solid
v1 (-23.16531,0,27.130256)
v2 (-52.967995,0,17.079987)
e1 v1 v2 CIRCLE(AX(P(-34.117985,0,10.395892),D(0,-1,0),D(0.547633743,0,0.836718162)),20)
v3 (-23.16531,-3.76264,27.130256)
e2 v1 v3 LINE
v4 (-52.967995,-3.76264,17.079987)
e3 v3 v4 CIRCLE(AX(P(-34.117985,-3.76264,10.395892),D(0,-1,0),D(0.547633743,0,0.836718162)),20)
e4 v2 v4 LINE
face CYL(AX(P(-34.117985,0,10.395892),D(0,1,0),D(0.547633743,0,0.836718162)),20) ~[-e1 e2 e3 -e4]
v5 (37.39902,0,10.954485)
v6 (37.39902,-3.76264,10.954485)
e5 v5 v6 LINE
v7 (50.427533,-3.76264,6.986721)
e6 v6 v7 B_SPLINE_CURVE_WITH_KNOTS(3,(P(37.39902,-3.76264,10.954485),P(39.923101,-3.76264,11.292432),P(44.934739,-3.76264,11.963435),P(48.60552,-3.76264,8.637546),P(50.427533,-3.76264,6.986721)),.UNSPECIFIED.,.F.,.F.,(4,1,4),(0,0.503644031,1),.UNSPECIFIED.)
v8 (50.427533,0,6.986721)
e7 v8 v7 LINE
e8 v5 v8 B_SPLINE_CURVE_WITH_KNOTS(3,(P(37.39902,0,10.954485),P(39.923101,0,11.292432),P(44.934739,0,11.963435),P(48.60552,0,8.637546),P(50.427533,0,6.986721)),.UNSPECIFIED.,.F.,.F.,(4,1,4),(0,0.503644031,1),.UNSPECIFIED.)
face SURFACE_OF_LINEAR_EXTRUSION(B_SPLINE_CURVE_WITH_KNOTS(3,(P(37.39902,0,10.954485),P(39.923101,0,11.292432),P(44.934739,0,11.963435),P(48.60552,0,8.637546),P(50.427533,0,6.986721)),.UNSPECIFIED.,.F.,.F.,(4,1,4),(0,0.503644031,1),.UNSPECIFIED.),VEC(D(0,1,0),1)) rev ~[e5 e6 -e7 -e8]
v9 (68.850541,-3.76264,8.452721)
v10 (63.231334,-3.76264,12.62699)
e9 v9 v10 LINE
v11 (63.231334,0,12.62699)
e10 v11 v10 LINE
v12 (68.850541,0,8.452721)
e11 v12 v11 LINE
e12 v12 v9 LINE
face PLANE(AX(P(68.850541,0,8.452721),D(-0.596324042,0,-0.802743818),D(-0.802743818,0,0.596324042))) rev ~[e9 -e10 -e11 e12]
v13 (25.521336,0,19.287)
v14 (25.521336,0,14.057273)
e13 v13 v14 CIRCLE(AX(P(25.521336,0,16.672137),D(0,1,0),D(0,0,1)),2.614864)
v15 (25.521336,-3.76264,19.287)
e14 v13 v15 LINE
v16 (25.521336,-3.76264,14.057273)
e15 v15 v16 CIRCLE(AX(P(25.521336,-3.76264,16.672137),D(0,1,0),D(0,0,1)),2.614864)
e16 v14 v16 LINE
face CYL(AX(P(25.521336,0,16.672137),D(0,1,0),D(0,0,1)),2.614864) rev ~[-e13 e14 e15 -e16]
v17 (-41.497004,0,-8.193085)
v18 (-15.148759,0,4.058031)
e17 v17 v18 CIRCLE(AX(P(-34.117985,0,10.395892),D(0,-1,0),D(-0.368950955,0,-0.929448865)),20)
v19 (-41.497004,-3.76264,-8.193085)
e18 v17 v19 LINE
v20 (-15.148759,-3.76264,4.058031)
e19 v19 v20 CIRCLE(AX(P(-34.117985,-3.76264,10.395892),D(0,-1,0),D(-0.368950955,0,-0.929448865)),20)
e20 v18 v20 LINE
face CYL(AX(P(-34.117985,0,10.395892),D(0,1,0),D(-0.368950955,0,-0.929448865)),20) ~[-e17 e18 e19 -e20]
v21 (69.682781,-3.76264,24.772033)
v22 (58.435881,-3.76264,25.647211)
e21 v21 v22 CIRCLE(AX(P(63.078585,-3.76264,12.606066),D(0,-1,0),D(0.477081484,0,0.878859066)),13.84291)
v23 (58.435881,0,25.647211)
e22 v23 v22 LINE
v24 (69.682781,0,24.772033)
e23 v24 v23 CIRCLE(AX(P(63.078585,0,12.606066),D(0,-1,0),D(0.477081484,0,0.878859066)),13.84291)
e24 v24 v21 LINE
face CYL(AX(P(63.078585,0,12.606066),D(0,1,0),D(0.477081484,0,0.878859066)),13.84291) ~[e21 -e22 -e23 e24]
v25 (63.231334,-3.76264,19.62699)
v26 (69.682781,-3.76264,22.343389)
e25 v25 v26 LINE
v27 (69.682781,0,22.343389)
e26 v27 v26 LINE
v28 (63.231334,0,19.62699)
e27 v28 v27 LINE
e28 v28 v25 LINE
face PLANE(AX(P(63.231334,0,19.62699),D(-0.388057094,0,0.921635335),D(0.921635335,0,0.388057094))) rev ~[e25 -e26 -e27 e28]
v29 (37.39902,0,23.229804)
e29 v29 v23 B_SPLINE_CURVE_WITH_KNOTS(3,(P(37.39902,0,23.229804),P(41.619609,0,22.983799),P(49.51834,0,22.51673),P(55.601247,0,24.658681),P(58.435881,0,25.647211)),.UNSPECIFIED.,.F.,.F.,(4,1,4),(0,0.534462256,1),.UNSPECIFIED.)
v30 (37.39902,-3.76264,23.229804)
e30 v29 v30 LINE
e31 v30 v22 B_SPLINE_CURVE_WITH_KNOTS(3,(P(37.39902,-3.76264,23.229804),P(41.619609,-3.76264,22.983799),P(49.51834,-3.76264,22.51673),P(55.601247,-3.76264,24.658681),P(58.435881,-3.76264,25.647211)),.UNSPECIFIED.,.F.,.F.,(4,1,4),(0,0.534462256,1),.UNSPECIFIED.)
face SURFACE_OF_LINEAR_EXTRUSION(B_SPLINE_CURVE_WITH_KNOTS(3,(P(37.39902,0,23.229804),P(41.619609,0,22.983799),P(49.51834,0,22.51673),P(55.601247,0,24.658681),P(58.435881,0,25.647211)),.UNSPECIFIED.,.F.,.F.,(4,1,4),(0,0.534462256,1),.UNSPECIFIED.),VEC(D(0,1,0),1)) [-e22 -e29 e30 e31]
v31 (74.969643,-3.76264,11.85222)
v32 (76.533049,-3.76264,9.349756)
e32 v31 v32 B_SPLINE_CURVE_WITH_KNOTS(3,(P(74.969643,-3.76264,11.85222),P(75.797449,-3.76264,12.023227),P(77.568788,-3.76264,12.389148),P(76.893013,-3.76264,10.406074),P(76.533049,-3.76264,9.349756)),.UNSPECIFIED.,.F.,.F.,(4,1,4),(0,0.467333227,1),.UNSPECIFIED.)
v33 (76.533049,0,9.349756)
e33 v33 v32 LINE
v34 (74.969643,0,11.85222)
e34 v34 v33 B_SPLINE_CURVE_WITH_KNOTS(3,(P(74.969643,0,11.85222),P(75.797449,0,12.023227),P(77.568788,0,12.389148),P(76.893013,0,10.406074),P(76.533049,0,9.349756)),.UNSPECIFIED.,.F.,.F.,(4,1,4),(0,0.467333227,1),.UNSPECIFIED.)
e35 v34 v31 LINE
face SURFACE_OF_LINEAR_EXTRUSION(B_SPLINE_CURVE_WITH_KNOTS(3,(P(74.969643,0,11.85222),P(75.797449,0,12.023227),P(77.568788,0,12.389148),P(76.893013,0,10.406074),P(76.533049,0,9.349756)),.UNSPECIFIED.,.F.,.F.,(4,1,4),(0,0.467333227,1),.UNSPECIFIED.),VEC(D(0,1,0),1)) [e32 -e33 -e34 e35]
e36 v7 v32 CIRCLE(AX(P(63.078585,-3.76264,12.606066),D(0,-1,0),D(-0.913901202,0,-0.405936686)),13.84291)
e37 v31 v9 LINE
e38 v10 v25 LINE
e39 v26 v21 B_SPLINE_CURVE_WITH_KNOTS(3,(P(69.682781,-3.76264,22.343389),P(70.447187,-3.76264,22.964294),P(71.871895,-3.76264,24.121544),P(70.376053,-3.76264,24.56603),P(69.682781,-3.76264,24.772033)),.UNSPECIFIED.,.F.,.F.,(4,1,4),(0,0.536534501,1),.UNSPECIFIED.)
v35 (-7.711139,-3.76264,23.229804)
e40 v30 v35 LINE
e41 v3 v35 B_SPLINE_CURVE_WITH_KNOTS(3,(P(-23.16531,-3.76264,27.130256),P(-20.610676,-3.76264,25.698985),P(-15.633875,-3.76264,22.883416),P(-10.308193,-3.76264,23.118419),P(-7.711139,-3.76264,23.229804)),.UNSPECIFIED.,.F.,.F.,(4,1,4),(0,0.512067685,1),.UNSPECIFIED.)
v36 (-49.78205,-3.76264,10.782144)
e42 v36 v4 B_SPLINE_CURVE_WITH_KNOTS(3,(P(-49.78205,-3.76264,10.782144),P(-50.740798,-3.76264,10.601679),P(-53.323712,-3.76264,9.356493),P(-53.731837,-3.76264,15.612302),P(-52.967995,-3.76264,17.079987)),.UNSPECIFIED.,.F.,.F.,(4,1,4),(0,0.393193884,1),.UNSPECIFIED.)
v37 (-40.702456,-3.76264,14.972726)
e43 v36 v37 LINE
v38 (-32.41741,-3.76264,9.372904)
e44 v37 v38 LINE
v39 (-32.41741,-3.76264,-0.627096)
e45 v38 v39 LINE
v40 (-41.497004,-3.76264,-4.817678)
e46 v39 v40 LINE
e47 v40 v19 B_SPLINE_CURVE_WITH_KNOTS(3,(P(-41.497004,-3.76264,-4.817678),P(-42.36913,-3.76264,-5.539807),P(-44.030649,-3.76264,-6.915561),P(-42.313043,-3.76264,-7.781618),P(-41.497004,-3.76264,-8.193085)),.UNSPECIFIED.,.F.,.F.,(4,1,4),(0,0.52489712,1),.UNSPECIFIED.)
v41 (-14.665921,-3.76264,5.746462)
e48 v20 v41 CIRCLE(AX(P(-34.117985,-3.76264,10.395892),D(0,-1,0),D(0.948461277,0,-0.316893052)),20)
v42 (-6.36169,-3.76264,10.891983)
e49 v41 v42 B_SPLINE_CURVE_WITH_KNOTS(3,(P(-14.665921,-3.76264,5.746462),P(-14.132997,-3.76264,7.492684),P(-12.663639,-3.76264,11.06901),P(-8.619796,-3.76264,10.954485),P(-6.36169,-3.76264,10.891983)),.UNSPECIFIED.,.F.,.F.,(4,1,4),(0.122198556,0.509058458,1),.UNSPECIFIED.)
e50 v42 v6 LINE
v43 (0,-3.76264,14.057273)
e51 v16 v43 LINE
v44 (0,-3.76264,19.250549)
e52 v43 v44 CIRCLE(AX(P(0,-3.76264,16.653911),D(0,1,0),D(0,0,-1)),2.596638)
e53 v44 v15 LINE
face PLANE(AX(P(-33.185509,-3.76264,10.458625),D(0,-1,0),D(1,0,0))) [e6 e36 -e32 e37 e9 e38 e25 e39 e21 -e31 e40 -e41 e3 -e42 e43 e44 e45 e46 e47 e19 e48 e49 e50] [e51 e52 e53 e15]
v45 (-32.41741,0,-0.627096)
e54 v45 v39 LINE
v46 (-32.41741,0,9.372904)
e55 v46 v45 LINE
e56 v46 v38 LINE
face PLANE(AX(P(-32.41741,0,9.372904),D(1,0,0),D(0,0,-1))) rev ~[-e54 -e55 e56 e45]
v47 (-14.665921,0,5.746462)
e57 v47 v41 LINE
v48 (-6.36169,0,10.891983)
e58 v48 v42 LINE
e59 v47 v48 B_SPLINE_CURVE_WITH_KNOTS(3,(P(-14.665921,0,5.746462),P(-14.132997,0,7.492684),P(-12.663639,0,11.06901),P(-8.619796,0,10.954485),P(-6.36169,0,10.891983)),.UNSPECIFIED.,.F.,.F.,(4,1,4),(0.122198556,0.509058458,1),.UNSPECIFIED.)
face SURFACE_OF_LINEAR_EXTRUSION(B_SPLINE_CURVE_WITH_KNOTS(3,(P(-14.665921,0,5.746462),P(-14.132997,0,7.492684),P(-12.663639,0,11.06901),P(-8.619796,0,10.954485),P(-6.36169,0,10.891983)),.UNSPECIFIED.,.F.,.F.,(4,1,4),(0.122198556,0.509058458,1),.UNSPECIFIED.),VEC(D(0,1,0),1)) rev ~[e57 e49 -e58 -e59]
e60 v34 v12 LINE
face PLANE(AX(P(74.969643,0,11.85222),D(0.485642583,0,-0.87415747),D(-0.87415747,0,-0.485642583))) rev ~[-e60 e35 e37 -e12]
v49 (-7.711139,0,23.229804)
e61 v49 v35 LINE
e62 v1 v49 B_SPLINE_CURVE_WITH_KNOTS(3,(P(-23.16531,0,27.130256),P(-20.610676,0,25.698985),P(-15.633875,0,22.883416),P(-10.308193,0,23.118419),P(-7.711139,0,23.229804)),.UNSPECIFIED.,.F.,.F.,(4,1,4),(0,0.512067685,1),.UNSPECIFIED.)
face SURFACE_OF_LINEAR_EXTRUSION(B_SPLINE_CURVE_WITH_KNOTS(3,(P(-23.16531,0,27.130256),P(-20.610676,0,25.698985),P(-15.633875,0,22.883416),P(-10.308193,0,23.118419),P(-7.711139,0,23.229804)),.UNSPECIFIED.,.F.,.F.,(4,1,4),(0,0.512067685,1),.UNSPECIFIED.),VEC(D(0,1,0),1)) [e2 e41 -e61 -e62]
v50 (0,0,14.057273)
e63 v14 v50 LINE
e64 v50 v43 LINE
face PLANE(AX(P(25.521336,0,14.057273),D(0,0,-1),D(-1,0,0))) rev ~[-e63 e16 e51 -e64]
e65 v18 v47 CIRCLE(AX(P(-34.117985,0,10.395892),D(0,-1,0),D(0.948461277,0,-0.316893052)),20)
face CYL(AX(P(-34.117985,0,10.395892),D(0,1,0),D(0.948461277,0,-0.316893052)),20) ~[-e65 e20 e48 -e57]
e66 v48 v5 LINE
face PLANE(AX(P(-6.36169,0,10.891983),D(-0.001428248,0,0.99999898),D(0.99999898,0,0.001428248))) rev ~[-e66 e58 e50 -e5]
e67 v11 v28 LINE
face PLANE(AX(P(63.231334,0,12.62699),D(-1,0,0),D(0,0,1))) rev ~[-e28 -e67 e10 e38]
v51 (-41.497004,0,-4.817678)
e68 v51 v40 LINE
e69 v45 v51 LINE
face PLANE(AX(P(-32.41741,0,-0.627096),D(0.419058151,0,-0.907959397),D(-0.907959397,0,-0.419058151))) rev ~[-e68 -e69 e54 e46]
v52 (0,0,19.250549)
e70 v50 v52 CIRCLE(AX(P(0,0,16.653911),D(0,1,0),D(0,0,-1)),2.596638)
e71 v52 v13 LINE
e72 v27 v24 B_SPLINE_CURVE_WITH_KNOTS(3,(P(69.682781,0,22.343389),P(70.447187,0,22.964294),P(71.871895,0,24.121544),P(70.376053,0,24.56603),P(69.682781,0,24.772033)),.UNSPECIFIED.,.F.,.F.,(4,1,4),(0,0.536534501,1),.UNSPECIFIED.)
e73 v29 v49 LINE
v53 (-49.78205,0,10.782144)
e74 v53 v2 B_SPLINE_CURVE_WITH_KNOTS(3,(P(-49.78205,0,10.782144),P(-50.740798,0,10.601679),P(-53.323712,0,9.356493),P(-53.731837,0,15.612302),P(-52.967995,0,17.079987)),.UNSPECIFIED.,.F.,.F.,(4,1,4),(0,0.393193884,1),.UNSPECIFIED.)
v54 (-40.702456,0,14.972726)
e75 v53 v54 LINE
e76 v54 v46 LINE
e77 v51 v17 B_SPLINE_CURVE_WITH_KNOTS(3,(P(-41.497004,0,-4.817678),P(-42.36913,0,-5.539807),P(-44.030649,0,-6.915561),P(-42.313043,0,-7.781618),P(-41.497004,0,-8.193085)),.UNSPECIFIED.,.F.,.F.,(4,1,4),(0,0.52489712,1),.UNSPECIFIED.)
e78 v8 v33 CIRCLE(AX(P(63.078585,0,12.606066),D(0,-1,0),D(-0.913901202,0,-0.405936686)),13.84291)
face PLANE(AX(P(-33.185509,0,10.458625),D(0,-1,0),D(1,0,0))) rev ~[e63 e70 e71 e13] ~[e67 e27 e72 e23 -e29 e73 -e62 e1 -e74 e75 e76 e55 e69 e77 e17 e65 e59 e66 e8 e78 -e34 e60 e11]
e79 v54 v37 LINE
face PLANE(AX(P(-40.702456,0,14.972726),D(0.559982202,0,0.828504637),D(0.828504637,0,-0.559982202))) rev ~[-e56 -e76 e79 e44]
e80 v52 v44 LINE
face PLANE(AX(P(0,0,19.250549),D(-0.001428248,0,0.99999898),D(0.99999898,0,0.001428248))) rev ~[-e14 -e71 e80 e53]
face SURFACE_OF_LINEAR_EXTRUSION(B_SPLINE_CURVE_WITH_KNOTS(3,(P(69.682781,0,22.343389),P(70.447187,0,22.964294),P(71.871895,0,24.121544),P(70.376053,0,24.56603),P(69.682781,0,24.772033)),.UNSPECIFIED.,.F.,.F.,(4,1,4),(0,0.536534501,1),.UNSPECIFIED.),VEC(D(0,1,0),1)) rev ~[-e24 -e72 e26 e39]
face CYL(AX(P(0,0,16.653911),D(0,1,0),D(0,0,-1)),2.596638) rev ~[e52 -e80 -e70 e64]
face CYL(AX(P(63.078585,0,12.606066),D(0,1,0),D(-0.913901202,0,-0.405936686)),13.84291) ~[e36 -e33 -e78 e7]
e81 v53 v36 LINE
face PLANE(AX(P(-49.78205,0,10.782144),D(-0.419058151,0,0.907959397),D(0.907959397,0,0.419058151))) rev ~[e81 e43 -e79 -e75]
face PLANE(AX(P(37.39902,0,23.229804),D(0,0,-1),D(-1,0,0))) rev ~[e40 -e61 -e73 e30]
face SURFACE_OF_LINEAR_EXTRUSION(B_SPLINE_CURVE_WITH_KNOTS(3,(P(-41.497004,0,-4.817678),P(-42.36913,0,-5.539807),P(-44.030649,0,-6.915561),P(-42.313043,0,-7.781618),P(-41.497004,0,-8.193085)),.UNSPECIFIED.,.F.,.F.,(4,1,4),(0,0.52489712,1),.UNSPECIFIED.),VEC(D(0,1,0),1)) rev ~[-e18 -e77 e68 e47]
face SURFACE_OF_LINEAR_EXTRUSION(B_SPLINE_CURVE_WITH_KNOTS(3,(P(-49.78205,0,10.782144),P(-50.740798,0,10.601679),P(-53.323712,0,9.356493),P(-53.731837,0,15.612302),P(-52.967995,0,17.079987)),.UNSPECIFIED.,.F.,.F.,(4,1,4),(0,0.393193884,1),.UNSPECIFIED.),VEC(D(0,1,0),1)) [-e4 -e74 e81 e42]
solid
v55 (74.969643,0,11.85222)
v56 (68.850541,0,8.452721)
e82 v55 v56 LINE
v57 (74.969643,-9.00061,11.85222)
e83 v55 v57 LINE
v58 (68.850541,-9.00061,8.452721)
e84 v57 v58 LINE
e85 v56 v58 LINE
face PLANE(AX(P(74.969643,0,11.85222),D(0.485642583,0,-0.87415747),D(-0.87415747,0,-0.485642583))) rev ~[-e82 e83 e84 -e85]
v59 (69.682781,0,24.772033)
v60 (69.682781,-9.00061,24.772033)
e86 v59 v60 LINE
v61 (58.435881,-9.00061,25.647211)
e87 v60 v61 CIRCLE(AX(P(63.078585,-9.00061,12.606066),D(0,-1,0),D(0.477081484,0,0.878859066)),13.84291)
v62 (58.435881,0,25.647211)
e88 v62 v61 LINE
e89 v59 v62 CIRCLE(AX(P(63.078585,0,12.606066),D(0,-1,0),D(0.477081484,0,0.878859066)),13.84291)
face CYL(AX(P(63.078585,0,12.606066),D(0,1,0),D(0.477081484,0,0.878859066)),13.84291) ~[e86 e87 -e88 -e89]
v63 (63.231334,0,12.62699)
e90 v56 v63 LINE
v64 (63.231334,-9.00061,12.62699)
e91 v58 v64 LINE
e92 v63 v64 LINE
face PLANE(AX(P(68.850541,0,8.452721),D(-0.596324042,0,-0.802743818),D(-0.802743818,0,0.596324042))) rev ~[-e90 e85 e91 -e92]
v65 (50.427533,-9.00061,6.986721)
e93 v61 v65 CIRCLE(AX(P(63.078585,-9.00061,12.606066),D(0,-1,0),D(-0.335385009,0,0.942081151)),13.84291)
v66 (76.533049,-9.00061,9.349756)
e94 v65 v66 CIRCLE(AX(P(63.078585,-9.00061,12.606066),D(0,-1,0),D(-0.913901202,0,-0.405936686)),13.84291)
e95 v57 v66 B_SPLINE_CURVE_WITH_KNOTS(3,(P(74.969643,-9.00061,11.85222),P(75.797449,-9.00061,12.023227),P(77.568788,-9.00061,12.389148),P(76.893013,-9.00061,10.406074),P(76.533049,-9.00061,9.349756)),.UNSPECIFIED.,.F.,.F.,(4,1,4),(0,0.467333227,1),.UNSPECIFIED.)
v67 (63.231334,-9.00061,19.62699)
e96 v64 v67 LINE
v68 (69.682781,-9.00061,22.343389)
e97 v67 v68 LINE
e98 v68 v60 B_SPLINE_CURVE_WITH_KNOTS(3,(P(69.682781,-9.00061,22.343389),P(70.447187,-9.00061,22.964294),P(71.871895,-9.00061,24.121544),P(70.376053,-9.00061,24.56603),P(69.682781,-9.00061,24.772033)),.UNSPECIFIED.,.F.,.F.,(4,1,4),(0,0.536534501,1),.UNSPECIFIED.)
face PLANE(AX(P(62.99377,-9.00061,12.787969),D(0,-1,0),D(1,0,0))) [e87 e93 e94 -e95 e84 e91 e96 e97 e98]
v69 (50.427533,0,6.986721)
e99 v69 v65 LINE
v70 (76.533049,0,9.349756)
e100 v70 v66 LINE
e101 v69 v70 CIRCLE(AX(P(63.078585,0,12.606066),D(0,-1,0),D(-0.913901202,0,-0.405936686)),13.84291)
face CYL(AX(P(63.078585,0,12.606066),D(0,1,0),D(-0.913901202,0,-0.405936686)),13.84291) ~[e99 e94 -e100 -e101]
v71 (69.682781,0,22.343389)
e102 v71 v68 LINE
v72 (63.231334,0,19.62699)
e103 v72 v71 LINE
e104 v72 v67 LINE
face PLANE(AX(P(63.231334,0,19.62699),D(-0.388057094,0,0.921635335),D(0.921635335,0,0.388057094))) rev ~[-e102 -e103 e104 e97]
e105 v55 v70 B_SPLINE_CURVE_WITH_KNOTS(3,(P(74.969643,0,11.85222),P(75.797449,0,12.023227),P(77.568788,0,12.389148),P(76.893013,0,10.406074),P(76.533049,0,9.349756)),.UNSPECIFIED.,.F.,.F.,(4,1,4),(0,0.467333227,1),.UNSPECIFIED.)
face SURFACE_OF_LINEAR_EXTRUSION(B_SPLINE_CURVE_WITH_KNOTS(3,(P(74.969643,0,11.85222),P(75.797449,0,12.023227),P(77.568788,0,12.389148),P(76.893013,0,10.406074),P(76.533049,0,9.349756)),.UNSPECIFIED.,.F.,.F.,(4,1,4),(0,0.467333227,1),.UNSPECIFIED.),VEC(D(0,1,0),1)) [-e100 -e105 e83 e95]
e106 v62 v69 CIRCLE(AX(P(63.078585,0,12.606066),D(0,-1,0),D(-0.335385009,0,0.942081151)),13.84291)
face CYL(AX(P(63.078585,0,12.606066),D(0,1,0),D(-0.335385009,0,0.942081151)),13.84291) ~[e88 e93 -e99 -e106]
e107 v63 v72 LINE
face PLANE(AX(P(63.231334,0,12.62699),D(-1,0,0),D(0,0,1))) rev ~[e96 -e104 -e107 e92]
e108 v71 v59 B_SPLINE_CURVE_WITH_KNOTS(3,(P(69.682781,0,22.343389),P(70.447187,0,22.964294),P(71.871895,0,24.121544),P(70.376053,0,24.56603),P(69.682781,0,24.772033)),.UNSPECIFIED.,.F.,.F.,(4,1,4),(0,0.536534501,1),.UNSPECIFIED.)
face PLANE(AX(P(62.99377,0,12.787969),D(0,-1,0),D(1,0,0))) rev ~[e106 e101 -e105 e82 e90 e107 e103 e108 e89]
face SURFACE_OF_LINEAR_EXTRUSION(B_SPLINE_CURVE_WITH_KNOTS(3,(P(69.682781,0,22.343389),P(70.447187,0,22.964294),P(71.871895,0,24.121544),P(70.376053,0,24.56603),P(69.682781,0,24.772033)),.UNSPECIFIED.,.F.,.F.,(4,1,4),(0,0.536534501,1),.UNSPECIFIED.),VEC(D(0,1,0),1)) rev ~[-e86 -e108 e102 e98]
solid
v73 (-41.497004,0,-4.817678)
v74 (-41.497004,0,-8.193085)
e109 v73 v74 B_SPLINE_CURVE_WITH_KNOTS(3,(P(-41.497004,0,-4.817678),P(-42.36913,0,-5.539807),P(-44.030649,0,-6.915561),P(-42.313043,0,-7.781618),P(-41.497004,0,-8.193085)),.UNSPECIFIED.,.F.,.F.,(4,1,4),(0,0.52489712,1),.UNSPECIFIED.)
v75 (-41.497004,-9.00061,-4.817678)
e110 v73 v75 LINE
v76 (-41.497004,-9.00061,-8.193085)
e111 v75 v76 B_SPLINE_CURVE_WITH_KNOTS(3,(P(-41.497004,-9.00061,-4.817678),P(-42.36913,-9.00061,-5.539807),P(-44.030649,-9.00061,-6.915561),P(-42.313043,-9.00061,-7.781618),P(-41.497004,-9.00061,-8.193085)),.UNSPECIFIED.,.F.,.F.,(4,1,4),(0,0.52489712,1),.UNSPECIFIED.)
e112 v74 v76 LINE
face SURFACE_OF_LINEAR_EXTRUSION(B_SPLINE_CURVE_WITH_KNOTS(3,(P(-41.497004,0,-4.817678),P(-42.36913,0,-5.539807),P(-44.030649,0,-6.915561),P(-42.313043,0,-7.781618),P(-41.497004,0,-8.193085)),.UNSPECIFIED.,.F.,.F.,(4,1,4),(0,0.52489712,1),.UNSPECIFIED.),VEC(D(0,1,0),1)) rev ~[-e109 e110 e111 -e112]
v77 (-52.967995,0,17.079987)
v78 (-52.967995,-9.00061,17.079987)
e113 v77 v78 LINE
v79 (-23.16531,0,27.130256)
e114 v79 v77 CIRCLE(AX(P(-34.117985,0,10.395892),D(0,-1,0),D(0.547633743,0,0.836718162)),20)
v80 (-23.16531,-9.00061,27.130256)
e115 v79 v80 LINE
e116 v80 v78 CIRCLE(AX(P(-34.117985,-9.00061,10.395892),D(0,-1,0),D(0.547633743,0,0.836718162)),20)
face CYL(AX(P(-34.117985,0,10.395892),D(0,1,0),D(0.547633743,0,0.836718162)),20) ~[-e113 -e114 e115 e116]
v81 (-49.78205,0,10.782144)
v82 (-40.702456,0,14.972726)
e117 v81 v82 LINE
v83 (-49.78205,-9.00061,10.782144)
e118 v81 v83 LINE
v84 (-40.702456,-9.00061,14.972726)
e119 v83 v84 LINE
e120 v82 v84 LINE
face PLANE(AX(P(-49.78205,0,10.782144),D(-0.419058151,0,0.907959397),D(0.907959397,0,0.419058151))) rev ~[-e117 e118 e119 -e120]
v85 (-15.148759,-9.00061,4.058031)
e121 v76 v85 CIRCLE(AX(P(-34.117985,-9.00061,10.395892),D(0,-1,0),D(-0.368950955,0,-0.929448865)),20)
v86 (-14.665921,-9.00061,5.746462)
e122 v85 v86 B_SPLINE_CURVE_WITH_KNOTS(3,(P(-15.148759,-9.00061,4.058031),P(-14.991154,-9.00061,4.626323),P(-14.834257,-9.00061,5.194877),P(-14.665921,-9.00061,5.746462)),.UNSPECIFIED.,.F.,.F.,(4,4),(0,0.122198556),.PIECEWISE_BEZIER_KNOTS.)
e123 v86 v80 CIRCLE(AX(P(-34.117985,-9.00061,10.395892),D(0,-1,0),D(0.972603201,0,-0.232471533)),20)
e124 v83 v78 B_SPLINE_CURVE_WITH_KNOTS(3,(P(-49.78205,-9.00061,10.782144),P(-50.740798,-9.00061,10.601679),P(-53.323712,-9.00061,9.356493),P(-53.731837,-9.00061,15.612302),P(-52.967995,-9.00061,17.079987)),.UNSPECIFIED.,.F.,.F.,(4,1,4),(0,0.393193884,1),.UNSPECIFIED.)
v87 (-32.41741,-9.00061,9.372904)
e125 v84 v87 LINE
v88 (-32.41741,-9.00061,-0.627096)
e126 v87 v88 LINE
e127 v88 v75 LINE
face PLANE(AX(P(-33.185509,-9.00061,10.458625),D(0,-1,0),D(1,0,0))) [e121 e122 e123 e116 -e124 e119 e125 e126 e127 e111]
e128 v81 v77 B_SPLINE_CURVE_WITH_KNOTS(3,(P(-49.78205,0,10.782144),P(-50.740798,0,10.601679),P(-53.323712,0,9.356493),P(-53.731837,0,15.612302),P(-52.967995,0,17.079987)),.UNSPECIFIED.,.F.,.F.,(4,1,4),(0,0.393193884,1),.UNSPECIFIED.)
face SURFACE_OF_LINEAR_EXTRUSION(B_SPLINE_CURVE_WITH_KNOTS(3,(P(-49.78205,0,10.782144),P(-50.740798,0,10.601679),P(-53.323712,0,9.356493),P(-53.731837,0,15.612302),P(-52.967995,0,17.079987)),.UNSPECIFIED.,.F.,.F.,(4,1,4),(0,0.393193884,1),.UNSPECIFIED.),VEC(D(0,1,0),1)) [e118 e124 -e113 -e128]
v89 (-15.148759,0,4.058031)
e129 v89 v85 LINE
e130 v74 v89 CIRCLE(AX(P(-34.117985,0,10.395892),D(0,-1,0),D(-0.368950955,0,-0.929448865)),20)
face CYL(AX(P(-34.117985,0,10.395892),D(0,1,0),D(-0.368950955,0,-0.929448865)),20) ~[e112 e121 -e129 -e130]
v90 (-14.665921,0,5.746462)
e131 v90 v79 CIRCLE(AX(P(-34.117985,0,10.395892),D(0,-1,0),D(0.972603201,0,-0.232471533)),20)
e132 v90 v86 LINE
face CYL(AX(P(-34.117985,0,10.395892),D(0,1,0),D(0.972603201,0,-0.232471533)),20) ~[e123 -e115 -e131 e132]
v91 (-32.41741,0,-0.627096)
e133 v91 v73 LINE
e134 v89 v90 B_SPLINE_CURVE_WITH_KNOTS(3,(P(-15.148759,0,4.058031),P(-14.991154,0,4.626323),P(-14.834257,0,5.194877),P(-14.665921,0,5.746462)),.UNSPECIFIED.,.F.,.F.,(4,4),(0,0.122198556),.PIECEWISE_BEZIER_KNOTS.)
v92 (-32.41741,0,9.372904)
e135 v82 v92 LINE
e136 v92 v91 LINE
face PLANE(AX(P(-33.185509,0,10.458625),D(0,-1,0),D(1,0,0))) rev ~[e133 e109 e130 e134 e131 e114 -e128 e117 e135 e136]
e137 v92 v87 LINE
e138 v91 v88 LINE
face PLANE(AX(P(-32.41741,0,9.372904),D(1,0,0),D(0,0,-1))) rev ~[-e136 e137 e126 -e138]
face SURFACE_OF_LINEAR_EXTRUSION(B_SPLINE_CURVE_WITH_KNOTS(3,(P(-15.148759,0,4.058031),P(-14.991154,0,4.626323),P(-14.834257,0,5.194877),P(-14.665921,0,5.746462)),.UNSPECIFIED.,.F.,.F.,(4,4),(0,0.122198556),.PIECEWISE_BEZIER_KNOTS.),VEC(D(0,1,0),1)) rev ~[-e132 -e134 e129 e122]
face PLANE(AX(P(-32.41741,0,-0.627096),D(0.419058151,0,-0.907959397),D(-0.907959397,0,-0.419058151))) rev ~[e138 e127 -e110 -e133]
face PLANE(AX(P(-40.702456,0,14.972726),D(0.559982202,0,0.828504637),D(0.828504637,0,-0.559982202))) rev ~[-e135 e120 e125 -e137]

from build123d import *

# Parameters (mm, degrees)
F1_DEPTH = 9.00061
F2_DEPTH = 3.76264


with BuildPart() as f1:
    # F0 (on Front) → F1 (new body)
    with BuildSketch(Plane.XZ):
        with BuildLine():
            Line((-40.7024563674, 14.972725965), (-32.4174099998, 9.3729039422))
            Line((-32.4174099998, 9.3729039422), (-32.4174099998, -0.6270960578))
            Line((-32.4174099998, -0.6270960578), (-41.4970039682, -4.8176775649))
            add(Edge.make_bspline(
                [(-41.4970039682, -4.8176775649), (-42.3691302595, -5.5398068022), (-44.0306487903, -6.9155606595), (-42.3130432889, -7.7816184293), (-41.4970039682, -8.1930849701)],
                knots=[0, 0, 0, 0, 0.5248971198, 1, 1, 1, 1], degree=3))
            ThreePointArc((-41.4970039682, -8.1930849701), (-25.6855662565, -7.7395513117), (-15.1487593399, 4.0580312922))
            add(Edge.make_bspline(
                [(-15.1487593399, 4.0580312922), (-14.9911543333, 4.626323008), (-14.834256946, 5.1948774111), (-14.6659208594, 5.7464616678)],
                knots=[0, 0, 0, 0, 0.1221985557, 0.1221985557, 0.1221985557, 0.1221985557], degree=3))
            ThreePointArc((-14.6659208594, 5.7464616678), (-15.5322726984, 17.7831315263), (-23.1653100131, 27.1302555838))
            ThreePointArc((-23.1653100131, 27.1302555838), (-40.5089119394, 29.3473052437), (-52.9679948246, 17.0799872552))
            add(Edge.make_bspline(
                [(-49.7820503358, 10.7821444579), (-50.7407984354, 10.6016786924), (-53.3237116879, 9.3564932455), (-53.7318373751, 15.6123015952), (-52.9679948246, 17.0799872552)],
                knots=[0, 0, 0, 0, 0.3931938838, 1, 1, 1, 1], degree=3))
            Line((-49.7820503358, 10.7821444579), (-40.7024563674, 14.972725965))
        make_face()
    extrude(amount=F1_DEPTH)


with BuildPart() as f1b:
    # F0 (on Front) → F1, piece 2 (new body)
    with BuildSketch(Plane.XZ):
        with BuildLine():
            ThreePointArc((69.6827814383, 24.7720330954), (64.1525250072, 26.4072548887), (58.4358809411, 25.6472107261))
            ThreePointArc((58.4358809411, 25.6472107261), (50.357658925, 18.0653870977), (50.4275333835, 6.9867212017))
            ThreePointArc((50.4275333835, 6.9867212017), (64.3265241083, -1.180478153), (76.533049345, 9.3497559428))
            add(Edge.make_bspline(
                [(74.9696431023, 11.8522195277), (75.7974487836, 12.0232266624), (77.5687880184, 12.389147861), (76.8930125062, 10.4060736713), (76.533049345, 9.3497559428)],
                knots=[0, 0, 0, 0, 0.4673332273, 1, 1, 1, 1], degree=3))
            Line((74.9696431023, 11.8522195277), (68.8505408138, 8.4527214496))
            Line((68.8505408138, 8.4527214496), (63.2313340902, 12.6269897446))
            Line((63.2313340902, 12.6269897446), (63.2313340902, 19.6269897446))
            Line((63.2313340902, 19.6269897446), (69.6827814383, 22.343389405))
            add(Edge.make_bspline(
                [(69.6827814383, 22.343389405), (70.4471865954, 22.9642941163), (71.8718948949, 24.1215444136), (70.3760526911, 24.5660295637), (69.6827814383, 24.7720330954)],
                knots=[0, 0, 0, 0, 0.5365345014, 1, 1, 1, 1], degree=3))
        make_face()
    extrude(amount=F1_DEPTH)


with BuildPart() as f2:
    # F0 (on Front) → F2 (new body)
    with BuildSketch(Plane.XZ):
        with BuildLine():
            Line((-40.7024563674, 14.972725965), (-32.4174099998, 9.3729039422))
            Line((-32.4174099998, 9.3729039422), (-32.4174099998, -0.6270960578))
            Line((-32.4174099998, -0.6270960578), (-41.4970039682, -4.8176775649))
            add(Edge.make_bspline(
                [(-41.4970039682, -4.8176775649), (-42.3691302595, -5.5398068022), (-44.0306487903, -6.9155606595), (-42.3130432889, -7.7816184293), (-41.4970039682, -8.1930849701)],
                knots=[0, 0, 0, 0, 0.5248971198, 1, 1, 1, 1], degree=3))
            ThreePointArc((-41.4970039682, -8.1930849701), (-25.6855662565, -7.7395513117), (-15.1487593399, 4.0580312922))
            add(Edge.make_bspline(
                [(-15.1487593399, 4.0580312922), (-14.9911543333, 4.626323008), (-14.834256946, 5.1948774111), (-14.6659208594, 5.7464616678)],
                knots=[0, 0, 0, 0, 0.1221985557, 0.1221985557, 0.1221985557, 0.1221985557], degree=3))
            ThreePointArc((-14.6659208594, 5.7464616678), (-15.5322726984, 17.7831315263), (-23.1653100131, 27.1302555838))
            ThreePointArc((-23.1653100131, 27.1302555838), (-40.5089119394, 29.3473052437), (-52.9679948246, 17.0799872552))
            add(Edge.make_bspline(
                [(-49.7820503358, 10.7821444579), (-50.7407984354, 10.6016786924), (-53.3237116879, 9.3564932455), (-53.7318373751, 15.6123015952), (-52.9679948246, 17.0799872552)],
                knots=[0, 0, 0, 0, 0.3931938838, 1, 1, 1, 1], degree=3))
            Line((-49.7820503358, 10.7821444579), (-40.7024563674, 14.972725965))
        make_face()
        with BuildLine():
            add(Edge.make_bspline(
                [(-15.1487593399, 4.0580312922), (-14.9911543333, 4.626323008), (-14.834256946, 5.1948774111), (-14.6659208594, 5.7464616678)],
                knots=[0, 0, 0, 0, 0.1221985557, 0.1221985557, 0.1221985557, 0.1221985557], degree=3))
            ThreePointArc((-15.1487593399, 4.0580312922), (-14.8887994537, 4.8969444329), (-14.6659208594, 5.7464616678))
        make_face()
        with BuildLine():
            add(Edge.make_bspline(
                [(-23.1653100131, 27.1302555838), (-20.6106764356, 25.698985463), (-15.6338752189, 22.883416186), (-10.3081934592, 23.1184194817), (-7.7111385763, 23.22980389)],
                knots=[0, 0, 0, 0, 0.5120676854, 1, 1, 1, 1], degree=3))
            ThreePointArc((-23.1653100131, 27.1302555838), (-15.5322726984, 17.7831315263), (-14.6659208594, 5.7464616678))
            add(Edge.make_bspline(
                [(-14.6659208594, 5.7464616678), (-14.1329973594, 7.492683875), (-12.6636390156, 11.0690102763), (-8.6197958598, 10.9544845005), (-6.3616898842, 10.8919832855)],
                knots=[0.1221985557, 0.1221985557, 0.1221985557, 0.1221985557, 0.509058458, 1, 1, 1, 1], degree=3))
            Line((-6.3616898842, 10.8919832855), (37.399020046, 10.9544845005))
            add(Edge.make_bspline(
                [(37.399020046, 10.9544845005), (39.9231013855, 11.292431535), (44.9347389366, 11.9634352866), (48.6055195273, 8.637546134), (50.4275333835, 6.9867212017)],
                knots=[0, 0, 0, 0, 0.5036440313, 1, 1, 1, 1], degree=3))
            ThreePointArc((50.4275333835, 6.9867212017), (50.357658925, 18.0653870977), (58.4358809411, 25.6472107261))
            add(Edge.make_bspline(
                [(37.399020046, 23.22980389), (41.619609059, 22.9837986409), (49.518339794, 22.5167302219), (55.6012471555, 24.6586811727), (58.4358809411, 25.6472107261)],
                knots=[0, 0, 0, 0, 0.5344622564, 1, 1, 1, 1], degree=3))
            Line((37.399020046, 23.22980389), (-7.7111385763, 23.22980389))
        make_face()
        with BuildLine():
            ThreePointArc((0, 14.0572730452), (-2.5966381654, 16.6539112106), (0, 19.250549376))
            Line((0, 19.250549376), (25.5213363633, 19.2870002136))
            ThreePointArc((25.5213363633, 19.2870002136), (28.1361999475, 16.6721366294), (25.5213363633, 14.0572730452))
            Line((25.5213363633, 14.0572730452), (0, 14.0572730452))
        make_face(mode=Mode.SUBTRACT)
        with BuildLine():
            ThreePointArc((69.6827814383, 24.7720330954), (64.1525250072, 26.4072548887), (58.4358809411, 25.6472107261))
            ThreePointArc((58.4358809411, 25.6472107261), (50.357658925, 18.0653870977), (50.4275333835, 6.9867212017))
            ThreePointArc((50.4275333835, 6.9867212017), (64.3265241083, -1.180478153), (76.533049345, 9.3497559428))
            add(Edge.make_bspline(
                [(74.9696431023, 11.8522195277), (75.7974487836, 12.0232266624), (77.5687880184, 12.389147861), (76.8930125062, 10.4060736713), (76.533049345, 9.3497559428)],
                knots=[0, 0, 0, 0, 0.4673332273, 1, 1, 1, 1], degree=3))
            Line((74.9696431023, 11.8522195277), (68.8505408138, 8.4527214496))
            Line((68.8505408138, 8.4527214496), (63.2313340902, 12.6269897446))
            Line((63.2313340902, 12.6269897446), (63.2313340902, 19.6269897446))
            Line((63.2313340902, 19.6269897446), (69.6827814383, 22.343389405))
            add(Edge.make_bspline(
                [(69.6827814383, 22.343389405), (70.4471865954, 22.9642941163), (71.8718948949, 24.1215444136), (70.3760526911, 24.5660295637), (69.6827814383, 24.7720330954)],
                knots=[0, 0, 0, 0, 0.5365345014, 1, 1, 1, 1], degree=3))
        make_face()
    extrude(amount=F2_DEPTH)


solid = Compound([f1.part, f1b.part, f2.part])
